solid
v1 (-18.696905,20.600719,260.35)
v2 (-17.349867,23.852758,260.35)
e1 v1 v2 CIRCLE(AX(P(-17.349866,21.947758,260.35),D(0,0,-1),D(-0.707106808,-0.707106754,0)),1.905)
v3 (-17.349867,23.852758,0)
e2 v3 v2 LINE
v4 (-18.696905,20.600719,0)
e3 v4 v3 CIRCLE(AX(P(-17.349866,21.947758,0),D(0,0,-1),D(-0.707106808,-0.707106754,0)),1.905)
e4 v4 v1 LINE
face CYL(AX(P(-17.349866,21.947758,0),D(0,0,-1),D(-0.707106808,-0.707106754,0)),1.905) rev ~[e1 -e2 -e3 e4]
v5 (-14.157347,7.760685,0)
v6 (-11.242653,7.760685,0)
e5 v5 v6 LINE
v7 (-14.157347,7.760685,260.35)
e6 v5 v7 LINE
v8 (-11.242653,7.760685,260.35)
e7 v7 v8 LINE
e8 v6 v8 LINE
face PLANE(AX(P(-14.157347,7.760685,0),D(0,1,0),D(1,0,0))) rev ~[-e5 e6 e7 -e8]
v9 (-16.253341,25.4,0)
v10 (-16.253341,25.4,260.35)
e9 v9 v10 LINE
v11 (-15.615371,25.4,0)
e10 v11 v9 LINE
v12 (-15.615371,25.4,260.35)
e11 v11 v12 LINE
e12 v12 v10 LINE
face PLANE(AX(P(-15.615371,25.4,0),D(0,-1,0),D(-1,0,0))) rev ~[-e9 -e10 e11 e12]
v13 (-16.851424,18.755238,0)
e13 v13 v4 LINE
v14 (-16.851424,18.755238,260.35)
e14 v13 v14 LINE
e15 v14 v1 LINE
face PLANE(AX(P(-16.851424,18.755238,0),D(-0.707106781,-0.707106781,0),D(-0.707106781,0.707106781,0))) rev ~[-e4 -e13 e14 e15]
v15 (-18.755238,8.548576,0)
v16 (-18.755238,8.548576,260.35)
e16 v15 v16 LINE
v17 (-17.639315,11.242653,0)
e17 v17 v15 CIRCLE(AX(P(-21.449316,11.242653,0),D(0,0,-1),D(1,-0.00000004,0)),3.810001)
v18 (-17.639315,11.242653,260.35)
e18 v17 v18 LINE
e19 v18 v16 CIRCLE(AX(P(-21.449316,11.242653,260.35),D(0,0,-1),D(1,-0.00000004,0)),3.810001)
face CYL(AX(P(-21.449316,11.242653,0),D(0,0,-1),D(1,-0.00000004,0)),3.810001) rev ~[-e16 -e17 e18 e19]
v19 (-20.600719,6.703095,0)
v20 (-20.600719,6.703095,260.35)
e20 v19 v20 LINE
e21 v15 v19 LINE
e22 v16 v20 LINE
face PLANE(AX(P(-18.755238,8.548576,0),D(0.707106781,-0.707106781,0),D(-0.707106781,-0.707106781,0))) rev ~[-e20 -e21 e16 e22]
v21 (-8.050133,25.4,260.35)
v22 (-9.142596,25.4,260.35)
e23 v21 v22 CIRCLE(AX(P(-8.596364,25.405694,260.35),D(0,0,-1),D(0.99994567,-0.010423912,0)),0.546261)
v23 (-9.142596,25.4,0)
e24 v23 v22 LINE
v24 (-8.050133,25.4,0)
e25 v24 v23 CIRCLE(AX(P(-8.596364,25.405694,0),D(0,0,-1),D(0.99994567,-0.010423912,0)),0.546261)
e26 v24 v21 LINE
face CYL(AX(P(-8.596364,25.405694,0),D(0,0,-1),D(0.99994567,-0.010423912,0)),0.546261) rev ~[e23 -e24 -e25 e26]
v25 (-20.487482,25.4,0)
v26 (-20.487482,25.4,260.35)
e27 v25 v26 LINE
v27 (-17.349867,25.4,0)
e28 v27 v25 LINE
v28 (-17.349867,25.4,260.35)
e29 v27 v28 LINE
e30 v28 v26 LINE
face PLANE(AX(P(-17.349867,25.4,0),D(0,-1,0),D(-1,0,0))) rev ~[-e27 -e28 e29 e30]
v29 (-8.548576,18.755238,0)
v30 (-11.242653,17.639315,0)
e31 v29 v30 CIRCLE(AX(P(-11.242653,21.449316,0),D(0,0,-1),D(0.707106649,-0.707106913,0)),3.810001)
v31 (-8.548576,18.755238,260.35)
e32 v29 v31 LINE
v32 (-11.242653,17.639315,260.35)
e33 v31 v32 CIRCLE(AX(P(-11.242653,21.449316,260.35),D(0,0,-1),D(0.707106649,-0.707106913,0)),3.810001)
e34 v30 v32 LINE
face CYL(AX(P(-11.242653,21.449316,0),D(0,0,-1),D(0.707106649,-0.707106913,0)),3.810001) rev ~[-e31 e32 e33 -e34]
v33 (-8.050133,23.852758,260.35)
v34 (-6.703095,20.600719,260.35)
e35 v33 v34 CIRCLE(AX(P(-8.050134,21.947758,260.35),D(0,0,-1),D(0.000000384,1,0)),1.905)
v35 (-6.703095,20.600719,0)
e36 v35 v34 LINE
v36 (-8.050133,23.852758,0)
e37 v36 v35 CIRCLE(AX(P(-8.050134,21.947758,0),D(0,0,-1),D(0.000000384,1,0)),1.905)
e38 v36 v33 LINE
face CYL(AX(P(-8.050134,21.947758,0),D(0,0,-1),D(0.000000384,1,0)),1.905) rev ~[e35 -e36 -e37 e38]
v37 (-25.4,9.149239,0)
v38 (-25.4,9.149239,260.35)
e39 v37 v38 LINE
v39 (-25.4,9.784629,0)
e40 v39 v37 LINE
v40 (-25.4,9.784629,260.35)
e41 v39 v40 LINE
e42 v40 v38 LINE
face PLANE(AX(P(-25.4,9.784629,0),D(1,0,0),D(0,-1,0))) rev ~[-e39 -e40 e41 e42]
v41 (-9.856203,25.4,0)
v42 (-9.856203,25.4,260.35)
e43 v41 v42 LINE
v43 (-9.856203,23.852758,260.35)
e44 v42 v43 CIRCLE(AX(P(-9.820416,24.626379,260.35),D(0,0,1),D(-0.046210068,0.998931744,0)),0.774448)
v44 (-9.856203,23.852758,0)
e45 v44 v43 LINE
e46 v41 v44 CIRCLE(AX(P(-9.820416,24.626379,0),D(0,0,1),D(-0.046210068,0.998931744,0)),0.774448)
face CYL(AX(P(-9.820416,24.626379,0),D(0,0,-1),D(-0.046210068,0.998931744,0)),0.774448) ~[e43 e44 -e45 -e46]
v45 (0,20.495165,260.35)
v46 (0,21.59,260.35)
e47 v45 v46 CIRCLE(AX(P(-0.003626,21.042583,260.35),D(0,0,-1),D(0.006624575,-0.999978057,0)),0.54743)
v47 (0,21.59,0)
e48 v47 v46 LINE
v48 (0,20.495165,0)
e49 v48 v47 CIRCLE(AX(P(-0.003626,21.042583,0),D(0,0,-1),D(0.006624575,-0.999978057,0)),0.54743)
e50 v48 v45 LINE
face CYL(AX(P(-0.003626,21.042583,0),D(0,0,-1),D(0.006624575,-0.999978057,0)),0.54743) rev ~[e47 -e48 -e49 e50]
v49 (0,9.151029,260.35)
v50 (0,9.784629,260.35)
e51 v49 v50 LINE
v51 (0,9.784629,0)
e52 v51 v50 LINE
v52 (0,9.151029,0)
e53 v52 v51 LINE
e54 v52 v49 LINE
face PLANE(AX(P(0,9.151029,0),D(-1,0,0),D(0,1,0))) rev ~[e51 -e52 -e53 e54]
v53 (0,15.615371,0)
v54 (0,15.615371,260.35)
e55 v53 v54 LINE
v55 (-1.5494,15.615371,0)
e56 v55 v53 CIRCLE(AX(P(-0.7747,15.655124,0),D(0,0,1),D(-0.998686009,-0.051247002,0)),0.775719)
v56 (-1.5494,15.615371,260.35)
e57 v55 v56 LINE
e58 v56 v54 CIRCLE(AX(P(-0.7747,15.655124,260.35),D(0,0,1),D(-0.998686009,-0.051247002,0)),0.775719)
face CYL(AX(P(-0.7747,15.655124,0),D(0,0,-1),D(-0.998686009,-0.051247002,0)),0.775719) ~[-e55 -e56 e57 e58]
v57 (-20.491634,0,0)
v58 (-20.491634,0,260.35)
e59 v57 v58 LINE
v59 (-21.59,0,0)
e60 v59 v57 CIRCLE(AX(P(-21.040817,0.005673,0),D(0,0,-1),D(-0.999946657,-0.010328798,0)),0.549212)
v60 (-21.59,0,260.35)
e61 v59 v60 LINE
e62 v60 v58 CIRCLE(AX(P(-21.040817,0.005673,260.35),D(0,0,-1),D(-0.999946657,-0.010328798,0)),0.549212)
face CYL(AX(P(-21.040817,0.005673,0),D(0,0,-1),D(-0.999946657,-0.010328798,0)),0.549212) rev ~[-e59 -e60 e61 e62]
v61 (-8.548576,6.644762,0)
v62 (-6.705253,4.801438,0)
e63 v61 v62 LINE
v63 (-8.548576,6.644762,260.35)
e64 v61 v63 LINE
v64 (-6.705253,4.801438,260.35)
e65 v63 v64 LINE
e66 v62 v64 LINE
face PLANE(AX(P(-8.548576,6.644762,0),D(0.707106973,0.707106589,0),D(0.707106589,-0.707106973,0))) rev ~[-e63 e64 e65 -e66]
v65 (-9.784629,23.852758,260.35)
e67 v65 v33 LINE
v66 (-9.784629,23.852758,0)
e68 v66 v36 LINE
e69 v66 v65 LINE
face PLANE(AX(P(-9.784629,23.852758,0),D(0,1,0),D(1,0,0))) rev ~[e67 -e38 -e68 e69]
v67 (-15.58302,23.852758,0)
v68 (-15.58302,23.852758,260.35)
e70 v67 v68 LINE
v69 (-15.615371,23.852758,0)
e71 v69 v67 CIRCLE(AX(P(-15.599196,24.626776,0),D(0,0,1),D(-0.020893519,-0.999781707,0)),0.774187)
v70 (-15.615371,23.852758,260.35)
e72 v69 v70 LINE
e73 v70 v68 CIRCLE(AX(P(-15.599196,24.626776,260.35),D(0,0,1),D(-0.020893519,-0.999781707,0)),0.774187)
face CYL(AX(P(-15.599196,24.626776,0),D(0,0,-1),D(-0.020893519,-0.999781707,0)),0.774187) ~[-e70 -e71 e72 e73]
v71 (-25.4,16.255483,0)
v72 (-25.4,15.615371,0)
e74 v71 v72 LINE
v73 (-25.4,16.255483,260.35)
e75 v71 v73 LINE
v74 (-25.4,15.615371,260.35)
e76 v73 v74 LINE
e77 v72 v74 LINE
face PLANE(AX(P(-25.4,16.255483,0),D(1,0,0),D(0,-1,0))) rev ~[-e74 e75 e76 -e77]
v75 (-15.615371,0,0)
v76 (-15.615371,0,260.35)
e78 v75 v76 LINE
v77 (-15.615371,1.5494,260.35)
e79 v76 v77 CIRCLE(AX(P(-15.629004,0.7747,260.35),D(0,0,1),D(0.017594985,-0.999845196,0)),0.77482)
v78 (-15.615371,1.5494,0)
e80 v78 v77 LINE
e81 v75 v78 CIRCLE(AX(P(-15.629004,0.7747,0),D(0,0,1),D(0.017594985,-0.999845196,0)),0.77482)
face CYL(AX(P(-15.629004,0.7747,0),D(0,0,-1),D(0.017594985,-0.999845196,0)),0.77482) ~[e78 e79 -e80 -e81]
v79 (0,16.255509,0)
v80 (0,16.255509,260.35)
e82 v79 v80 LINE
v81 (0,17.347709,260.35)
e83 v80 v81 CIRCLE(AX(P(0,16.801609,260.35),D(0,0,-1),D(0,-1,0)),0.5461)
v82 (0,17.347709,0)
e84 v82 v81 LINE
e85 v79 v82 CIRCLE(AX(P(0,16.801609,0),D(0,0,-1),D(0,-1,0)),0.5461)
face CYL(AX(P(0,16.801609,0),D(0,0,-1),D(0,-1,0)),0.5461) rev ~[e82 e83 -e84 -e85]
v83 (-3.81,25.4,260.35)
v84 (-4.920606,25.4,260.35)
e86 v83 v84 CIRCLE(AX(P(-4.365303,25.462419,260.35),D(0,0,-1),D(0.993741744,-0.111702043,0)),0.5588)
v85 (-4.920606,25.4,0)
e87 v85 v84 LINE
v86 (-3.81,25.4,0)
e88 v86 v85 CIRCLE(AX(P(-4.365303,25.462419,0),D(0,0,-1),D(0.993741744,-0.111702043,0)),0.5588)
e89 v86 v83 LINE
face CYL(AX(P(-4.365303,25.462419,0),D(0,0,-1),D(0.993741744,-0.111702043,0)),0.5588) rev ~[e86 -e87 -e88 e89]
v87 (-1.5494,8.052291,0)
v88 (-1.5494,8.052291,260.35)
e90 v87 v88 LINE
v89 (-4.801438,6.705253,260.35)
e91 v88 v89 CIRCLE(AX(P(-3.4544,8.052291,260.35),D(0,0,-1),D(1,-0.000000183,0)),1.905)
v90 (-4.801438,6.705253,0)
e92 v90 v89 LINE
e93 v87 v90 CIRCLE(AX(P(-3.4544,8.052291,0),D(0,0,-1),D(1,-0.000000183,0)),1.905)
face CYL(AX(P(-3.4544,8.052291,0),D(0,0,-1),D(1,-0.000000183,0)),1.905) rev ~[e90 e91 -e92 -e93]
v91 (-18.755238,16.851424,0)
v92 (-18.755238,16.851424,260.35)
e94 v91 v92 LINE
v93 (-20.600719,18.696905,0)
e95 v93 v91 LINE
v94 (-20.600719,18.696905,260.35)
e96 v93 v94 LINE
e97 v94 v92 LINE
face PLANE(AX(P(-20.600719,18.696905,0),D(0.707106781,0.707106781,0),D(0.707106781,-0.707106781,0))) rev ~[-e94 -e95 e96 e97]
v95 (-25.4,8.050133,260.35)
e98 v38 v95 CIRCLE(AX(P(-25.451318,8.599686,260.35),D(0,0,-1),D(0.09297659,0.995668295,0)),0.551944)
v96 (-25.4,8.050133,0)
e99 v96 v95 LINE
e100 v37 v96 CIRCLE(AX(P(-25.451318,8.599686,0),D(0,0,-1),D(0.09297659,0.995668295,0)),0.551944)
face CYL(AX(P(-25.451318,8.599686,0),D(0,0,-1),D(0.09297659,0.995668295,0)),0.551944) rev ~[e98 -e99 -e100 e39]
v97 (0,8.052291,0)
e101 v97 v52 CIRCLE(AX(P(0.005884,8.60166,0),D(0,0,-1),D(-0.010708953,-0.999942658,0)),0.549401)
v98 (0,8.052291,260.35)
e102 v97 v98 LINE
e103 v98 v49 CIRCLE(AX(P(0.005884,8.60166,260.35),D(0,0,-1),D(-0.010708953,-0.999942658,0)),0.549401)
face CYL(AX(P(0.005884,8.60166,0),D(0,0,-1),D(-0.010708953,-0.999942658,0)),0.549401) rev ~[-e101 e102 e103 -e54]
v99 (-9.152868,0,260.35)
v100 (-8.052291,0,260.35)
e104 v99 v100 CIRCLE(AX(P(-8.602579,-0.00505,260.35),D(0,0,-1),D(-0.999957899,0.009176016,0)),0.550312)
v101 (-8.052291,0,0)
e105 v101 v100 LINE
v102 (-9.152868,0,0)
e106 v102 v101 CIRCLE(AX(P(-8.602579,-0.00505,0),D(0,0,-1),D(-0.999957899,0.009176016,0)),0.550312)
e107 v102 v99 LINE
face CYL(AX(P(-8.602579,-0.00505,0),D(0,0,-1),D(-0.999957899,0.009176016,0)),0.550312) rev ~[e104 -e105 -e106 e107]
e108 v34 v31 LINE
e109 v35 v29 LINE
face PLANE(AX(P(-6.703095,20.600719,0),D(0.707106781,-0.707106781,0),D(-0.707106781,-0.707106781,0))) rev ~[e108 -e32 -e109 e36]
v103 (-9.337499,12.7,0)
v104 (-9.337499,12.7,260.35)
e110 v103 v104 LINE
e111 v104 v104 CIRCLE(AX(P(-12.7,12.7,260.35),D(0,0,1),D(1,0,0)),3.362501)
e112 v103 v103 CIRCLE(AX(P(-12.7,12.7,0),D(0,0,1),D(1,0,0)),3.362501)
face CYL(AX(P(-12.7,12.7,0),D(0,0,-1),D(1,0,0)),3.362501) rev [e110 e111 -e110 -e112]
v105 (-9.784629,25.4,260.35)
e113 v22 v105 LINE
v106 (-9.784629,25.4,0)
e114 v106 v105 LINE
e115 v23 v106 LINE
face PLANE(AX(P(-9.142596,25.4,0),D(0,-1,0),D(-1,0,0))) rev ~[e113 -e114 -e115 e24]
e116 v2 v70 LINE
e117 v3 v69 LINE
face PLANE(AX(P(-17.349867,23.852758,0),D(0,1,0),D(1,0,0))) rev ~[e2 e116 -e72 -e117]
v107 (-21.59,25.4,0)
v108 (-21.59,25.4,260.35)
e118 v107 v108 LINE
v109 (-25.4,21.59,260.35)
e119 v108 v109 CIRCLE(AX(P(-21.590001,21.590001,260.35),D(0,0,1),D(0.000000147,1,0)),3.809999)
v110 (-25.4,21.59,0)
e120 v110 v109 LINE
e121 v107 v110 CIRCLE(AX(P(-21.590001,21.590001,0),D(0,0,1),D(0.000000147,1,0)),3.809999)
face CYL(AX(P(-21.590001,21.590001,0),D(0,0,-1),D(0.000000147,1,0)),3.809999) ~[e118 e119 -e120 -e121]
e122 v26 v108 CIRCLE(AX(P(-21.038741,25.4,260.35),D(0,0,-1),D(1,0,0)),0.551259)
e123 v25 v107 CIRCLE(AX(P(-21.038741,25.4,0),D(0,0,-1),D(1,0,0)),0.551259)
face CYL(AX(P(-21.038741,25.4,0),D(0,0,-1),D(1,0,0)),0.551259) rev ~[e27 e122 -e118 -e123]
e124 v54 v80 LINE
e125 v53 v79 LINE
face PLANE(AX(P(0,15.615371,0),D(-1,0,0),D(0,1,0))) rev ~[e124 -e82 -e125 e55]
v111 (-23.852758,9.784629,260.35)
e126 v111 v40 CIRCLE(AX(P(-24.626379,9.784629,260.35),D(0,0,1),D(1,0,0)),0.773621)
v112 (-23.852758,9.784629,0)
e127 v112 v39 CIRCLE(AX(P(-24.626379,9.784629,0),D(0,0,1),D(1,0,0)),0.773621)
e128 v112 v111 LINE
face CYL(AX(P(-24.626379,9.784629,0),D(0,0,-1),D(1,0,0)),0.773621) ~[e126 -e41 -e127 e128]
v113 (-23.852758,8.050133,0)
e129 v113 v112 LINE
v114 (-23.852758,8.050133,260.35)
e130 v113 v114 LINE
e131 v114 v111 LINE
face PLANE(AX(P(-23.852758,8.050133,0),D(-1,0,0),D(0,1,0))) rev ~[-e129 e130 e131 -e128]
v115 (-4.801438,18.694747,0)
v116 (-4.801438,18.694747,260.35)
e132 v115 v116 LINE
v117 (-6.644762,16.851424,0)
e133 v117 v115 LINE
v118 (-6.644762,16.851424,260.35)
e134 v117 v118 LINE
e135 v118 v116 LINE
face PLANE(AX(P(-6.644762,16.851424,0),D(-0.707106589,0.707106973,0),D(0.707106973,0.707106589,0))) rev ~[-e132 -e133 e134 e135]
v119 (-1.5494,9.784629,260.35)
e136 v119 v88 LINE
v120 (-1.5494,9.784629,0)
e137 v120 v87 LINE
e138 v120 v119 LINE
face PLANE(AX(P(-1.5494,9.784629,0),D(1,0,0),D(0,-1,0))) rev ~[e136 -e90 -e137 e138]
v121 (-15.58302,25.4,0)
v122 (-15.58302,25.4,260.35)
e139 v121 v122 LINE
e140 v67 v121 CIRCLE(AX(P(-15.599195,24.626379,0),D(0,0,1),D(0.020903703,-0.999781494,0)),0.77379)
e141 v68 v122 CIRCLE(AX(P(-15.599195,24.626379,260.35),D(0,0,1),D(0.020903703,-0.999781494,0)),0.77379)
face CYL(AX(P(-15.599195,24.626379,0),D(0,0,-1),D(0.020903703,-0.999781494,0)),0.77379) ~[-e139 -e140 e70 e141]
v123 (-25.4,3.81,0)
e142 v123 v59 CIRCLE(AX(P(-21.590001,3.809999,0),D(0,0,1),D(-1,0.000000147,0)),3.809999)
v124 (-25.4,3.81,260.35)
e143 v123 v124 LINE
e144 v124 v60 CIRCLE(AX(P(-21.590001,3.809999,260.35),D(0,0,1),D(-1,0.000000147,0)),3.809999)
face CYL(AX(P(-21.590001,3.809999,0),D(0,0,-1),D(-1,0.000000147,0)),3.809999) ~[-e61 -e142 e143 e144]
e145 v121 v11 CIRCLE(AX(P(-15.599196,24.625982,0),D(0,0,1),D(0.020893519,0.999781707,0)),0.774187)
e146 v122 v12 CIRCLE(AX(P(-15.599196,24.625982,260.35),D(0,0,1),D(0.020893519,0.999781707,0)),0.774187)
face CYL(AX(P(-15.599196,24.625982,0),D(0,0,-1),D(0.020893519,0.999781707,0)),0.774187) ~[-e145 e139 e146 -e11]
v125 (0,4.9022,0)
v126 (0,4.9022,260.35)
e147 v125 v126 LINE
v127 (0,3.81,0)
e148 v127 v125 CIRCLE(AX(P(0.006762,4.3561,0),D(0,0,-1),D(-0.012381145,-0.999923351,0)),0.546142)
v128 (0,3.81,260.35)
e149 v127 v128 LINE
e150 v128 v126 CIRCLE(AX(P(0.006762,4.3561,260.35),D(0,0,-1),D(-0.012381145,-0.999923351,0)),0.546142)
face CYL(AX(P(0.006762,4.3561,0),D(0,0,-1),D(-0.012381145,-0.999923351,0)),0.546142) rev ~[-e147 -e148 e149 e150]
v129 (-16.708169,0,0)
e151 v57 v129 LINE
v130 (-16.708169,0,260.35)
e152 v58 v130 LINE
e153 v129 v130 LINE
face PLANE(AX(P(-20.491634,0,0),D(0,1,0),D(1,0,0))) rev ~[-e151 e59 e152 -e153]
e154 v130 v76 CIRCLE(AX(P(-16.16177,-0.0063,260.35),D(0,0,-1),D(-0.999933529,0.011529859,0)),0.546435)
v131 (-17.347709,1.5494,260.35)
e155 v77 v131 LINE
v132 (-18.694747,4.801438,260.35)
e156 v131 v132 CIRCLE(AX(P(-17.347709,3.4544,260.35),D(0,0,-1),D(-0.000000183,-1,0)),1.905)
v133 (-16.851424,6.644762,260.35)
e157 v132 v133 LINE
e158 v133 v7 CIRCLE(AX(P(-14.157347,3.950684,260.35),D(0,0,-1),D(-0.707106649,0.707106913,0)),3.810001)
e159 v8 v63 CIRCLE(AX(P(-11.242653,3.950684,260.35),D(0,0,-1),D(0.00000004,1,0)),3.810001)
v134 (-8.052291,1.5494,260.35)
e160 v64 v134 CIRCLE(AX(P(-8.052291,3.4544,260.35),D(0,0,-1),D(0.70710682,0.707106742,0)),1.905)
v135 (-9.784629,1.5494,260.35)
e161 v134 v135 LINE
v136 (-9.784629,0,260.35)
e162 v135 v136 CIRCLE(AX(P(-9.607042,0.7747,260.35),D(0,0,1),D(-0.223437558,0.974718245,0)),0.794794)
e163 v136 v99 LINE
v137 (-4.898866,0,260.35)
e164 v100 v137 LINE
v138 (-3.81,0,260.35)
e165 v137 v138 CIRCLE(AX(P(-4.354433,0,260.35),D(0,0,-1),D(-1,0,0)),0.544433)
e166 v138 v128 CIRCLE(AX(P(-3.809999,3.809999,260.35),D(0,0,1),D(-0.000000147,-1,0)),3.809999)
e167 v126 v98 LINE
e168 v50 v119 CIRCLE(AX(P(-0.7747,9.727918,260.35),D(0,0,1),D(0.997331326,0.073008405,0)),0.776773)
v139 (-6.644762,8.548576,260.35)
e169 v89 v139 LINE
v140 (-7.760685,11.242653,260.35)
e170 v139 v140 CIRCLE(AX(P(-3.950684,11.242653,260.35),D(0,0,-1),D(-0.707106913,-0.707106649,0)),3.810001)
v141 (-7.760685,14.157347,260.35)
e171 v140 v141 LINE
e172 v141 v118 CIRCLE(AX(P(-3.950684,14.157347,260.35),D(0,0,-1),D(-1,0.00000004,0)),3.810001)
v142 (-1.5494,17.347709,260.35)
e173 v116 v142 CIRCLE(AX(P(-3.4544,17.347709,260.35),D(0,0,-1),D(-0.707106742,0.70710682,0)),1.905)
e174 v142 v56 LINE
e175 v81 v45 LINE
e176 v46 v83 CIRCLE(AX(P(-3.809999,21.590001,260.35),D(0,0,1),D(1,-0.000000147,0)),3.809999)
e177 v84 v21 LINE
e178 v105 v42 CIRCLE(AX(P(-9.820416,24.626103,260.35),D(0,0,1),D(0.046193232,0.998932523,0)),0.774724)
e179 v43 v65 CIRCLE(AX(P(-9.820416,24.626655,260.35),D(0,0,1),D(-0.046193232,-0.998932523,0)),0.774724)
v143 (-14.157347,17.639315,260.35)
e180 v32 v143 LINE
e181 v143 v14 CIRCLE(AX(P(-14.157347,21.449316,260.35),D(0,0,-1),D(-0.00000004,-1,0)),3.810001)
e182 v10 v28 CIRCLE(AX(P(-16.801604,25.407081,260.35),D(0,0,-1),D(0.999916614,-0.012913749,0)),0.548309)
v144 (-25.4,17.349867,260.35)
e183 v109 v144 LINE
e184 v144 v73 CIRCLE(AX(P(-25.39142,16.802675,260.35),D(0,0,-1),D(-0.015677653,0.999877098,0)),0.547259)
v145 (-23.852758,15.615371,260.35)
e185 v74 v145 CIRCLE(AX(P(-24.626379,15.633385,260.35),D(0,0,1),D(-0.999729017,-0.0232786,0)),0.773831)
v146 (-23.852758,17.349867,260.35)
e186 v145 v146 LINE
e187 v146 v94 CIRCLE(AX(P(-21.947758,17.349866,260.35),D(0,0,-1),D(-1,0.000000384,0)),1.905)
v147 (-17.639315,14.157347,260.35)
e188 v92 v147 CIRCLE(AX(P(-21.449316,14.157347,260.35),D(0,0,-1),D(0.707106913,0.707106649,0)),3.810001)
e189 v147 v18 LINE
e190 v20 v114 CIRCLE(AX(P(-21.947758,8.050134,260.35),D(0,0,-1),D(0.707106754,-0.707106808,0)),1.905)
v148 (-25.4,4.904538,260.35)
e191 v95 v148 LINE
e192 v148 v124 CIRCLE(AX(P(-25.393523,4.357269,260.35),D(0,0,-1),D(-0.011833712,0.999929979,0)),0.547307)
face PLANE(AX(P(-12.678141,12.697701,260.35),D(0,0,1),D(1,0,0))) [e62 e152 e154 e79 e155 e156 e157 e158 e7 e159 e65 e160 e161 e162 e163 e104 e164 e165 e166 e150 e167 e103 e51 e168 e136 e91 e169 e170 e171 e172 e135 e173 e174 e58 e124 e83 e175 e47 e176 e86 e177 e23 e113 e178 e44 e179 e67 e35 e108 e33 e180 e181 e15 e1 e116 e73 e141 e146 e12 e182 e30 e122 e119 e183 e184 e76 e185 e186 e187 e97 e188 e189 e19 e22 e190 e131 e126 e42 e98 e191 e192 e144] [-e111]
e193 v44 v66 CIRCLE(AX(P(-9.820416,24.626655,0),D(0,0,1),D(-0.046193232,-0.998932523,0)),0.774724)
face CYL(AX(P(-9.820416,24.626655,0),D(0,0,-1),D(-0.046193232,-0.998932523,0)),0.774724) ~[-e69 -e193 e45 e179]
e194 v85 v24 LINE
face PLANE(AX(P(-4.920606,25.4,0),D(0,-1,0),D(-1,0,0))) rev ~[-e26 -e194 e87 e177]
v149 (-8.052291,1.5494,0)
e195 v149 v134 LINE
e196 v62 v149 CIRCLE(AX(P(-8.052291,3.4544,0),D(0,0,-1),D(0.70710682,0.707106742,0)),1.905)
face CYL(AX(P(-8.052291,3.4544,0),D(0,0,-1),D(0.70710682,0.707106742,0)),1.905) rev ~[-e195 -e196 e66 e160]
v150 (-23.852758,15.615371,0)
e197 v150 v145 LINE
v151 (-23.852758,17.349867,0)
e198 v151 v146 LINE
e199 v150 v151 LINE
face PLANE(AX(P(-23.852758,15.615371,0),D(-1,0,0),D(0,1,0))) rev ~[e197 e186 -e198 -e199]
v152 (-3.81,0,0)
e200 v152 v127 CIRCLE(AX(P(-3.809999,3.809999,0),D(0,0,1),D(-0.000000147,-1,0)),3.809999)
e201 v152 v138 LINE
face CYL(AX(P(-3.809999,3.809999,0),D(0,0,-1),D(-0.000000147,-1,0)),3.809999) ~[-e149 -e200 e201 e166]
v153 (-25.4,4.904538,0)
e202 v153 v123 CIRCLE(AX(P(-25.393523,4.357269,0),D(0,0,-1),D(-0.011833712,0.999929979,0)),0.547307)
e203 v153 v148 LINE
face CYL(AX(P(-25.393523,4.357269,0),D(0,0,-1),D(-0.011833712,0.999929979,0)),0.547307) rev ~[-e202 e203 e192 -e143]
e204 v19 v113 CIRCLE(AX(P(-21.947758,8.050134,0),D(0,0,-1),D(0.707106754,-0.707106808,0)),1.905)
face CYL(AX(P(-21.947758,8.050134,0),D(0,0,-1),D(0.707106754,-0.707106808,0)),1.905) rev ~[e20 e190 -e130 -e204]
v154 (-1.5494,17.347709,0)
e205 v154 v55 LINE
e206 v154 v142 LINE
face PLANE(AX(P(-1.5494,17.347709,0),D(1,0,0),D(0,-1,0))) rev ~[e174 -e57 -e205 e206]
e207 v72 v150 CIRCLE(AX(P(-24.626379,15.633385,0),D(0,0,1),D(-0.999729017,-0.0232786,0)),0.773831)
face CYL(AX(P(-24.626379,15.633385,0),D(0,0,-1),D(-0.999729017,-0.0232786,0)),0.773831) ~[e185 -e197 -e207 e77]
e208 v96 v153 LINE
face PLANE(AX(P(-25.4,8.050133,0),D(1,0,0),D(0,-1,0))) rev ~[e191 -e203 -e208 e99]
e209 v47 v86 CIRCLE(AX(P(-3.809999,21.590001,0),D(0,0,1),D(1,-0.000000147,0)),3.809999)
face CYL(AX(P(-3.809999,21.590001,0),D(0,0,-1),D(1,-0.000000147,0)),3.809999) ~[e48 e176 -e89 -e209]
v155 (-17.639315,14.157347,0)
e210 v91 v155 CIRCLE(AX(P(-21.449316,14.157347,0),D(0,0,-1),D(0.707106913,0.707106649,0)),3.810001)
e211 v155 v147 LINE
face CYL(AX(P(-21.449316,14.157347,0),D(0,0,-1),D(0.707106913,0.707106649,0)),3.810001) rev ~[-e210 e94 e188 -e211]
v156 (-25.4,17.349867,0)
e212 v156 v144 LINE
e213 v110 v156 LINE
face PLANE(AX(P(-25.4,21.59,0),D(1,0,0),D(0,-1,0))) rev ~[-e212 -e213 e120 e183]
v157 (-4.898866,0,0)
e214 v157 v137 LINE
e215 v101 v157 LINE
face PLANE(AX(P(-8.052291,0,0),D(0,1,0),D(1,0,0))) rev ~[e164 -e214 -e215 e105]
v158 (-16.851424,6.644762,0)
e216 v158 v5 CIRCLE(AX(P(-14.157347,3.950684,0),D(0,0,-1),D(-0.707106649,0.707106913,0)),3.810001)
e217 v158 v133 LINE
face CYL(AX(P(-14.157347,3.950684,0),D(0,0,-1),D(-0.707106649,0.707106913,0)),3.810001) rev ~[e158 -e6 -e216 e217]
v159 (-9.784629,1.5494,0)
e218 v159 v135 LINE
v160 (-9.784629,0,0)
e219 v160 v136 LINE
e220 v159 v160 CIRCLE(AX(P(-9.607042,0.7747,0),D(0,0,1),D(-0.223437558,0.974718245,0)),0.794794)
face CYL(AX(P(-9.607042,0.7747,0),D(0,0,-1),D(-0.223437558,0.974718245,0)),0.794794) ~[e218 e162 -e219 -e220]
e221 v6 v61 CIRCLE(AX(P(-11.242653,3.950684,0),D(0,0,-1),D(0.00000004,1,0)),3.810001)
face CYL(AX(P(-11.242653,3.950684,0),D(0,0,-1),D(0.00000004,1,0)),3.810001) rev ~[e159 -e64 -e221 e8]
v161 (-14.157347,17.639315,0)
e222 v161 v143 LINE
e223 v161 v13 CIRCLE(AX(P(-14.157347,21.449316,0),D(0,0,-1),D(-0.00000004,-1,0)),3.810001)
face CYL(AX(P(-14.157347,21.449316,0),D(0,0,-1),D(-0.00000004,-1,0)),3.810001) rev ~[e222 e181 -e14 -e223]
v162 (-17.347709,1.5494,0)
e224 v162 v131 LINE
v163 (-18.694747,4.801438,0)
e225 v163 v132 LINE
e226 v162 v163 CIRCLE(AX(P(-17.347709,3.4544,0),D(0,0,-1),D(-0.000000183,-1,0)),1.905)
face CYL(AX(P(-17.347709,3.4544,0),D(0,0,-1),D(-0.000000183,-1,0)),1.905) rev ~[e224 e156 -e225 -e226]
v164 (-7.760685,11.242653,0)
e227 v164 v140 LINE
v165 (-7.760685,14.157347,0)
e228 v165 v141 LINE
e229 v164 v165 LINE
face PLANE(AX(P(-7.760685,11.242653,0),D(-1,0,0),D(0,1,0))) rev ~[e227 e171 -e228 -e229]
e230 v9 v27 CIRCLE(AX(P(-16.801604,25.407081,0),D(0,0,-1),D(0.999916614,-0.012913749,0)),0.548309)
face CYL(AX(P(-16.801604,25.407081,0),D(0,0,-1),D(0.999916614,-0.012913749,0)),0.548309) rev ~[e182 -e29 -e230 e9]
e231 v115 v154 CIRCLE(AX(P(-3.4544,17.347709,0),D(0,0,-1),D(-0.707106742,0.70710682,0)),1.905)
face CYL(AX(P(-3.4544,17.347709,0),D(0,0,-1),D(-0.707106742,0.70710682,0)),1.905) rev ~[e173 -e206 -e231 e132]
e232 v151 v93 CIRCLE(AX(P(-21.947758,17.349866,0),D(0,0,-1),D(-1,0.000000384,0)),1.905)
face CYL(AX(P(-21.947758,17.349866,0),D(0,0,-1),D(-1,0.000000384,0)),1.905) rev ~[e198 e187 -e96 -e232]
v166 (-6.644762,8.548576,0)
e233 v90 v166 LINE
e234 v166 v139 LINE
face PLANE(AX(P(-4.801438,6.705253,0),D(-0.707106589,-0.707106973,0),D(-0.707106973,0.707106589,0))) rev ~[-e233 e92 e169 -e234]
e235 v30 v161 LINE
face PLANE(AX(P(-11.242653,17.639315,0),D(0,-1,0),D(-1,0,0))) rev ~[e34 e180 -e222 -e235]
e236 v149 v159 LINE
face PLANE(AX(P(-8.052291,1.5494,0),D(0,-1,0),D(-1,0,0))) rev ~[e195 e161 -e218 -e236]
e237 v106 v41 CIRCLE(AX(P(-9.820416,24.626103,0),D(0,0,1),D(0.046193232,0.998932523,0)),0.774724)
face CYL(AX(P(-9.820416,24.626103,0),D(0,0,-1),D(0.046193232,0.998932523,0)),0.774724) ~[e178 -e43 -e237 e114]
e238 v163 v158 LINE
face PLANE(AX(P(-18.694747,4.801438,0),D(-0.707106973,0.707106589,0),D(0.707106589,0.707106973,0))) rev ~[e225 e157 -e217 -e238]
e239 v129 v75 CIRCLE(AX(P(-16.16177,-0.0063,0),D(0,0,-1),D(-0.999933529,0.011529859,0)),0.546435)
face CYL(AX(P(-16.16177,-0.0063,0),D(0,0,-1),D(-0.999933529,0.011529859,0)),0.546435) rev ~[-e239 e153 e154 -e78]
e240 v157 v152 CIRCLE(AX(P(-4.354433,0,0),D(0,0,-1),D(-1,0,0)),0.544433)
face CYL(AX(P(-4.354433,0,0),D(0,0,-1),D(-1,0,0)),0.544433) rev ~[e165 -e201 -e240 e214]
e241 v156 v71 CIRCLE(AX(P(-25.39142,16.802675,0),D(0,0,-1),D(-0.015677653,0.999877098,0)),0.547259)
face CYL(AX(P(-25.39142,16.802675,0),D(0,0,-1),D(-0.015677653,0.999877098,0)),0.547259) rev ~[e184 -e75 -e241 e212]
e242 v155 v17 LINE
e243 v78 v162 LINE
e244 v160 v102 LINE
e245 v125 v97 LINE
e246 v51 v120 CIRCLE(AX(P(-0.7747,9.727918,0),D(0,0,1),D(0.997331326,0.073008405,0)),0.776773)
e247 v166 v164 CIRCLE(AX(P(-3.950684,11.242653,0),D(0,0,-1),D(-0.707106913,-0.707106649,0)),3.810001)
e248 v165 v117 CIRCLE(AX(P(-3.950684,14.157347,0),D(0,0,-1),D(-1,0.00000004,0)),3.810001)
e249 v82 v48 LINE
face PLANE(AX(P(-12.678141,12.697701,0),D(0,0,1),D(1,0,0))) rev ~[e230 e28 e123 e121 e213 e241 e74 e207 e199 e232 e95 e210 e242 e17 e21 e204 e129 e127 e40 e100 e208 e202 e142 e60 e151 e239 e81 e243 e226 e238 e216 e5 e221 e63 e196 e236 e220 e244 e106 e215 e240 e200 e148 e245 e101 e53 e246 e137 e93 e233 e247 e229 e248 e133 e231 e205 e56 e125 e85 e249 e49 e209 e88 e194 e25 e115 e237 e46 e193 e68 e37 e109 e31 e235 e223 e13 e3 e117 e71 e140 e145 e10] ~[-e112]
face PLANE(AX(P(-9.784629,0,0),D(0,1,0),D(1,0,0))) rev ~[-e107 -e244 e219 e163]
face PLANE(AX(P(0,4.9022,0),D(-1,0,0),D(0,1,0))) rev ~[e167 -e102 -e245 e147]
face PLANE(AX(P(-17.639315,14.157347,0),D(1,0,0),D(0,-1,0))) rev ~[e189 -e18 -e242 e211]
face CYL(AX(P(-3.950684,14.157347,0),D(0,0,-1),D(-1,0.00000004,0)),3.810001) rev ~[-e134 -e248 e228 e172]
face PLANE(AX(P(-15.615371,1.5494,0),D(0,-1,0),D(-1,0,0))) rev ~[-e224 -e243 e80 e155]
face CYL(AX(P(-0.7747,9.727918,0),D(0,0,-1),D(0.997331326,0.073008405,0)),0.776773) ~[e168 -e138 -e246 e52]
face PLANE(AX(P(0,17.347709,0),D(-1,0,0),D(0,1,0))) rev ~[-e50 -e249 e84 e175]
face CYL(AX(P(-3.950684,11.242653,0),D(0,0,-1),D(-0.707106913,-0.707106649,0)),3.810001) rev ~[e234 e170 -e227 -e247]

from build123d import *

# Parameters (mm, degrees)
F0_R     = 3.362501
F1_DEPTH = 260.35


with BuildPart() as f1:
    # F0 (on Top) → F1 (new body)
    with BuildSketch(Plane.XY):
        with BuildLine():
            ThreePointArc((-8.548576, 18.755238), (-9.784629, 17.929334), (-11.242653, 17.639315))
            Line((-11.242653, 17.639315), (-14.157347, 17.639315))
            ThreePointArc((-14.157347, 17.639315), (-15.615371, 17.929334), (-16.851424, 18.755238))
            Line((-16.851424, 18.755238), (-18.696905, 20.600719))
            ThreePointArc((-18.696905, 20.600719), (-19.109857, 22.67677), (-17.349867, 23.852758))
            Line((-17.349867, 23.852758), (-15.615371, 23.852758))
            Line((-15.615371, 23.852758), (-15.58302, 23.852758))
            ThreePointArc((-15.58302, 23.852758), (-14.825405, 24.626379), (-15.58302, 25.4))
            Line((-15.58302, 25.4), (-15.615371, 25.4))
            Line((-15.615371, 25.4), (-16.253341, 25.4))
            ThreePointArc((-16.253341, 25.4), (-16.801604, 24.858772), (-17.349867, 25.4))
            Line((-17.349867, 25.4), (-20.487482, 25.4))
            ThreePointArc((-20.487482, 25.4), (-21.038741, 24.848741), (-21.59, 25.4))
            ThreePointArc((-21.59, 25.4), (-24.284077, 24.284077), (-25.4, 21.59))
            Line((-25.4, 21.59), (-25.4, 20.504724))
            Line((-25.4, 20.504724), (-25.4, 17.349867))
            ThreePointArc((-25.4, 17.349867), (-24.844161, 16.802675), (-25.4, 16.255483))
            Line((-25.4, 16.255483), (-25.4, 15.615371))
            ThreePointArc((-25.4, 15.615371), (-24.626379, 14.859554), (-23.852758, 15.615371))
            Line((-23.852758, 15.615371), (-23.852758, 17.349867))
            ThreePointArc((-23.852758, 17.349867), (-22.67677, 19.109857), (-20.600719, 18.696905))
            Line((-20.600719, 18.696905), (-18.755238, 16.851424))
            ThreePointArc((-18.755238, 16.851424), (-17.929334, 15.615371), (-17.639315, 14.157347))
            Line((-17.639315, 14.157347), (-17.639315, 11.242653))
            ThreePointArc((-17.639315, 11.242653), (-17.929334, 9.784629), (-18.755238, 8.548576))
            Line((-18.755238, 8.548576), (-20.600719, 6.703095))
            ThreePointArc((-20.600719, 6.703095), (-22.67677, 6.290143), (-23.852758, 8.050133))
            Line((-23.852758, 8.050133), (-23.852758, 9.784629))
            ThreePointArc((-23.852758, 9.784629), (-24.626379, 10.55825), (-25.4, 9.784629))
            Line((-25.4, 9.784629), (-25.4, 9.149239))
            ThreePointArc((-25.4, 9.149239), (-24.899374, 8.599686), (-25.4, 8.050133))
            Line((-25.4, 8.050133), (-25.4, 4.904538))
            ThreePointArc((-25.4, 4.904538), (-24.846216, 4.357269), (-25.4, 3.81))
            ThreePointArc((-25.4, 3.81), (-24.284077, 1.115923), (-21.59, 0))
            ThreePointArc((-21.59, 0), (-21.040817, 0.554885), (-20.491634, 0))
            Line((-20.491634, 0), (-16.708169, 0))
            ThreePointArc((-16.708169, 0), (-16.16177, 0.540135), (-15.615371, 0))
            ThreePointArc((-15.615371, 0), (-14.854184, 0.7747), (-15.615371, 1.5494))
            Line((-15.615371, 1.5494), (-17.347709, 1.5494))
            ThreePointArc((-17.347709, 1.5494), (-19.107699, 2.725388), (-18.694747, 4.801438))
            Line((-18.694747, 4.801438), (-16.851424, 6.644762))
            ThreePointArc((-16.851424, 6.644762), (-15.615371, 7.470666), (-14.157347, 7.760685))
            Line((-14.157347, 7.760685), (-11.242653, 7.760685))
            ThreePointArc((-11.242653, 7.760685), (-9.784629, 7.470666), (-8.548576, 6.644762))
            Line((-8.548576, 6.644762), (-6.705253, 4.801438))
            ThreePointArc((-6.705253, 4.801438), (-6.292301, 2.725388), (-8.052291, 1.5494))
            Line((-8.052291, 1.5494), (-9.784629, 1.5494))
            ThreePointArc((-9.784629, 1.5494), (-10.401836, 0.7747), (-9.784629, 0))
            Line((-9.784629, 0), (-9.152868, 0))
            ThreePointArc((-9.152868, 0), (-8.602579, 0.545262), (-8.052291, 0))
            Line((-8.052291, 0), (-4.898866, 0))
            ThreePointArc((-4.898866, 0), (-4.354433, 0.544433), (-3.81, 0))
            ThreePointArc((-3.81, 0), (-1.115923, 1.115923), (0, 3.81))
            ThreePointArc((0, 3.81), (-0.53938, 4.3561), (0, 4.9022))
            Line((0, 4.9022), (0, 8.052291))
            ThreePointArc((0, 8.052291), (-0.543517, 8.60166), (0, 9.151029))
            Line((0, 9.151029), (0, 9.784629))
            ThreePointArc((0, 9.784629), (-0.7747, 10.504691), (-1.5494, 9.784629))
            Line((-1.5494, 9.784629), (-1.5494, 8.052291))
            ThreePointArc((-1.5494, 8.052291), (-2.725388, 6.292301), (-4.801438, 6.705253))
            Line((-4.801438, 6.705253), (-6.644762, 8.548576))
            ThreePointArc((-6.644762, 8.548576), (-7.470666, 9.784629), (-7.760685, 11.242653))
            Line((-7.760685, 11.242653), (-7.760685, 14.157347))
            ThreePointArc((-7.760685, 14.157347), (-7.470666, 15.615371), (-6.644762, 16.851424))
            Line((-6.644762, 16.851424), (-4.801438, 18.694747))
            ThreePointArc((-4.801438, 18.694747), (-2.725388, 19.107699), (-1.5494, 17.347709))
            Line((-1.5494, 17.347709), (-1.5494, 15.615371))
            ThreePointArc((-1.5494, 15.615371), (-0.7747, 14.879405), (0, 15.615371))
            Line((0, 15.615371), (0, 16.255509))
            ThreePointArc((0, 16.255509), (-0.5461, 16.801609), (0, 17.347709))
            Line((0, 17.347709), (0, 20.495165))
            ThreePointArc((0, 20.495165), (-0.551056, 21.042583), (0, 21.59))
            ThreePointArc((0, 21.59), (-1.115923, 24.284077), (-3.81, 25.4))
            ThreePointArc((-3.81, 25.4), (-4.365303, 24.903619), (-4.920606, 25.4))
            Line((-4.920606, 25.4), (-8.050133, 25.4))
            ThreePointArc((-8.050133, 25.4), (-8.596365, 24.859433), (-9.142596, 25.4))
            Line((-9.142596, 25.4), (-9.784629, 25.4))
            Line((-9.784629, 25.4), (-9.856203, 25.4))
            ThreePointArc((-9.856203, 25.4), (-10.594864, 24.626379), (-9.856203, 23.852758))
            Line((-9.856203, 23.852758), (-9.784629, 23.852758))
            Line((-9.784629, 23.852758), (-8.050133, 23.852758))
            ThreePointArc((-8.050133, 23.852758), (-6.290143, 22.67677), (-6.703095, 20.600719))
            Line((-6.703095, 20.600719), (-8.548576, 18.755238))
        make_face()
        with Locations((-12.7, 12.7)):
            Circle(F0_R, mode=Mode.SUBTRACT)
        with BuildLine():
            ThreePointArc((-9.856203, 23.852758), (-9.820416, 23.851931), (-9.784629, 23.852758))
            Line((-9.784629, 23.852758), (-9.856203, 23.852758))
        make_face()
        with BuildLine():
            Line((-15.58302, 23.852758), (-15.615371, 23.852758))
            ThreePointArc((-15.615371, 23.852758), (-15.599195, 23.852589), (-15.58302, 23.852758))
        make_face()
        with BuildLine():
            ThreePointArc((-9.784629, 25.4), (-9.820416, 25.400827), (-9.856203, 25.4))
            Line((-9.856203, 25.4), (-9.784629, 25.4))
        make_face()
        with BuildLine():
            Line((-15.615371, 25.4), (-15.58302, 25.4))
            ThreePointArc((-15.58302, 25.4), (-15.599195, 25.400169), (-15.615371, 25.4))
        make_face()
    extrude(amount=F1_DEPTH)


solid = f1.part
